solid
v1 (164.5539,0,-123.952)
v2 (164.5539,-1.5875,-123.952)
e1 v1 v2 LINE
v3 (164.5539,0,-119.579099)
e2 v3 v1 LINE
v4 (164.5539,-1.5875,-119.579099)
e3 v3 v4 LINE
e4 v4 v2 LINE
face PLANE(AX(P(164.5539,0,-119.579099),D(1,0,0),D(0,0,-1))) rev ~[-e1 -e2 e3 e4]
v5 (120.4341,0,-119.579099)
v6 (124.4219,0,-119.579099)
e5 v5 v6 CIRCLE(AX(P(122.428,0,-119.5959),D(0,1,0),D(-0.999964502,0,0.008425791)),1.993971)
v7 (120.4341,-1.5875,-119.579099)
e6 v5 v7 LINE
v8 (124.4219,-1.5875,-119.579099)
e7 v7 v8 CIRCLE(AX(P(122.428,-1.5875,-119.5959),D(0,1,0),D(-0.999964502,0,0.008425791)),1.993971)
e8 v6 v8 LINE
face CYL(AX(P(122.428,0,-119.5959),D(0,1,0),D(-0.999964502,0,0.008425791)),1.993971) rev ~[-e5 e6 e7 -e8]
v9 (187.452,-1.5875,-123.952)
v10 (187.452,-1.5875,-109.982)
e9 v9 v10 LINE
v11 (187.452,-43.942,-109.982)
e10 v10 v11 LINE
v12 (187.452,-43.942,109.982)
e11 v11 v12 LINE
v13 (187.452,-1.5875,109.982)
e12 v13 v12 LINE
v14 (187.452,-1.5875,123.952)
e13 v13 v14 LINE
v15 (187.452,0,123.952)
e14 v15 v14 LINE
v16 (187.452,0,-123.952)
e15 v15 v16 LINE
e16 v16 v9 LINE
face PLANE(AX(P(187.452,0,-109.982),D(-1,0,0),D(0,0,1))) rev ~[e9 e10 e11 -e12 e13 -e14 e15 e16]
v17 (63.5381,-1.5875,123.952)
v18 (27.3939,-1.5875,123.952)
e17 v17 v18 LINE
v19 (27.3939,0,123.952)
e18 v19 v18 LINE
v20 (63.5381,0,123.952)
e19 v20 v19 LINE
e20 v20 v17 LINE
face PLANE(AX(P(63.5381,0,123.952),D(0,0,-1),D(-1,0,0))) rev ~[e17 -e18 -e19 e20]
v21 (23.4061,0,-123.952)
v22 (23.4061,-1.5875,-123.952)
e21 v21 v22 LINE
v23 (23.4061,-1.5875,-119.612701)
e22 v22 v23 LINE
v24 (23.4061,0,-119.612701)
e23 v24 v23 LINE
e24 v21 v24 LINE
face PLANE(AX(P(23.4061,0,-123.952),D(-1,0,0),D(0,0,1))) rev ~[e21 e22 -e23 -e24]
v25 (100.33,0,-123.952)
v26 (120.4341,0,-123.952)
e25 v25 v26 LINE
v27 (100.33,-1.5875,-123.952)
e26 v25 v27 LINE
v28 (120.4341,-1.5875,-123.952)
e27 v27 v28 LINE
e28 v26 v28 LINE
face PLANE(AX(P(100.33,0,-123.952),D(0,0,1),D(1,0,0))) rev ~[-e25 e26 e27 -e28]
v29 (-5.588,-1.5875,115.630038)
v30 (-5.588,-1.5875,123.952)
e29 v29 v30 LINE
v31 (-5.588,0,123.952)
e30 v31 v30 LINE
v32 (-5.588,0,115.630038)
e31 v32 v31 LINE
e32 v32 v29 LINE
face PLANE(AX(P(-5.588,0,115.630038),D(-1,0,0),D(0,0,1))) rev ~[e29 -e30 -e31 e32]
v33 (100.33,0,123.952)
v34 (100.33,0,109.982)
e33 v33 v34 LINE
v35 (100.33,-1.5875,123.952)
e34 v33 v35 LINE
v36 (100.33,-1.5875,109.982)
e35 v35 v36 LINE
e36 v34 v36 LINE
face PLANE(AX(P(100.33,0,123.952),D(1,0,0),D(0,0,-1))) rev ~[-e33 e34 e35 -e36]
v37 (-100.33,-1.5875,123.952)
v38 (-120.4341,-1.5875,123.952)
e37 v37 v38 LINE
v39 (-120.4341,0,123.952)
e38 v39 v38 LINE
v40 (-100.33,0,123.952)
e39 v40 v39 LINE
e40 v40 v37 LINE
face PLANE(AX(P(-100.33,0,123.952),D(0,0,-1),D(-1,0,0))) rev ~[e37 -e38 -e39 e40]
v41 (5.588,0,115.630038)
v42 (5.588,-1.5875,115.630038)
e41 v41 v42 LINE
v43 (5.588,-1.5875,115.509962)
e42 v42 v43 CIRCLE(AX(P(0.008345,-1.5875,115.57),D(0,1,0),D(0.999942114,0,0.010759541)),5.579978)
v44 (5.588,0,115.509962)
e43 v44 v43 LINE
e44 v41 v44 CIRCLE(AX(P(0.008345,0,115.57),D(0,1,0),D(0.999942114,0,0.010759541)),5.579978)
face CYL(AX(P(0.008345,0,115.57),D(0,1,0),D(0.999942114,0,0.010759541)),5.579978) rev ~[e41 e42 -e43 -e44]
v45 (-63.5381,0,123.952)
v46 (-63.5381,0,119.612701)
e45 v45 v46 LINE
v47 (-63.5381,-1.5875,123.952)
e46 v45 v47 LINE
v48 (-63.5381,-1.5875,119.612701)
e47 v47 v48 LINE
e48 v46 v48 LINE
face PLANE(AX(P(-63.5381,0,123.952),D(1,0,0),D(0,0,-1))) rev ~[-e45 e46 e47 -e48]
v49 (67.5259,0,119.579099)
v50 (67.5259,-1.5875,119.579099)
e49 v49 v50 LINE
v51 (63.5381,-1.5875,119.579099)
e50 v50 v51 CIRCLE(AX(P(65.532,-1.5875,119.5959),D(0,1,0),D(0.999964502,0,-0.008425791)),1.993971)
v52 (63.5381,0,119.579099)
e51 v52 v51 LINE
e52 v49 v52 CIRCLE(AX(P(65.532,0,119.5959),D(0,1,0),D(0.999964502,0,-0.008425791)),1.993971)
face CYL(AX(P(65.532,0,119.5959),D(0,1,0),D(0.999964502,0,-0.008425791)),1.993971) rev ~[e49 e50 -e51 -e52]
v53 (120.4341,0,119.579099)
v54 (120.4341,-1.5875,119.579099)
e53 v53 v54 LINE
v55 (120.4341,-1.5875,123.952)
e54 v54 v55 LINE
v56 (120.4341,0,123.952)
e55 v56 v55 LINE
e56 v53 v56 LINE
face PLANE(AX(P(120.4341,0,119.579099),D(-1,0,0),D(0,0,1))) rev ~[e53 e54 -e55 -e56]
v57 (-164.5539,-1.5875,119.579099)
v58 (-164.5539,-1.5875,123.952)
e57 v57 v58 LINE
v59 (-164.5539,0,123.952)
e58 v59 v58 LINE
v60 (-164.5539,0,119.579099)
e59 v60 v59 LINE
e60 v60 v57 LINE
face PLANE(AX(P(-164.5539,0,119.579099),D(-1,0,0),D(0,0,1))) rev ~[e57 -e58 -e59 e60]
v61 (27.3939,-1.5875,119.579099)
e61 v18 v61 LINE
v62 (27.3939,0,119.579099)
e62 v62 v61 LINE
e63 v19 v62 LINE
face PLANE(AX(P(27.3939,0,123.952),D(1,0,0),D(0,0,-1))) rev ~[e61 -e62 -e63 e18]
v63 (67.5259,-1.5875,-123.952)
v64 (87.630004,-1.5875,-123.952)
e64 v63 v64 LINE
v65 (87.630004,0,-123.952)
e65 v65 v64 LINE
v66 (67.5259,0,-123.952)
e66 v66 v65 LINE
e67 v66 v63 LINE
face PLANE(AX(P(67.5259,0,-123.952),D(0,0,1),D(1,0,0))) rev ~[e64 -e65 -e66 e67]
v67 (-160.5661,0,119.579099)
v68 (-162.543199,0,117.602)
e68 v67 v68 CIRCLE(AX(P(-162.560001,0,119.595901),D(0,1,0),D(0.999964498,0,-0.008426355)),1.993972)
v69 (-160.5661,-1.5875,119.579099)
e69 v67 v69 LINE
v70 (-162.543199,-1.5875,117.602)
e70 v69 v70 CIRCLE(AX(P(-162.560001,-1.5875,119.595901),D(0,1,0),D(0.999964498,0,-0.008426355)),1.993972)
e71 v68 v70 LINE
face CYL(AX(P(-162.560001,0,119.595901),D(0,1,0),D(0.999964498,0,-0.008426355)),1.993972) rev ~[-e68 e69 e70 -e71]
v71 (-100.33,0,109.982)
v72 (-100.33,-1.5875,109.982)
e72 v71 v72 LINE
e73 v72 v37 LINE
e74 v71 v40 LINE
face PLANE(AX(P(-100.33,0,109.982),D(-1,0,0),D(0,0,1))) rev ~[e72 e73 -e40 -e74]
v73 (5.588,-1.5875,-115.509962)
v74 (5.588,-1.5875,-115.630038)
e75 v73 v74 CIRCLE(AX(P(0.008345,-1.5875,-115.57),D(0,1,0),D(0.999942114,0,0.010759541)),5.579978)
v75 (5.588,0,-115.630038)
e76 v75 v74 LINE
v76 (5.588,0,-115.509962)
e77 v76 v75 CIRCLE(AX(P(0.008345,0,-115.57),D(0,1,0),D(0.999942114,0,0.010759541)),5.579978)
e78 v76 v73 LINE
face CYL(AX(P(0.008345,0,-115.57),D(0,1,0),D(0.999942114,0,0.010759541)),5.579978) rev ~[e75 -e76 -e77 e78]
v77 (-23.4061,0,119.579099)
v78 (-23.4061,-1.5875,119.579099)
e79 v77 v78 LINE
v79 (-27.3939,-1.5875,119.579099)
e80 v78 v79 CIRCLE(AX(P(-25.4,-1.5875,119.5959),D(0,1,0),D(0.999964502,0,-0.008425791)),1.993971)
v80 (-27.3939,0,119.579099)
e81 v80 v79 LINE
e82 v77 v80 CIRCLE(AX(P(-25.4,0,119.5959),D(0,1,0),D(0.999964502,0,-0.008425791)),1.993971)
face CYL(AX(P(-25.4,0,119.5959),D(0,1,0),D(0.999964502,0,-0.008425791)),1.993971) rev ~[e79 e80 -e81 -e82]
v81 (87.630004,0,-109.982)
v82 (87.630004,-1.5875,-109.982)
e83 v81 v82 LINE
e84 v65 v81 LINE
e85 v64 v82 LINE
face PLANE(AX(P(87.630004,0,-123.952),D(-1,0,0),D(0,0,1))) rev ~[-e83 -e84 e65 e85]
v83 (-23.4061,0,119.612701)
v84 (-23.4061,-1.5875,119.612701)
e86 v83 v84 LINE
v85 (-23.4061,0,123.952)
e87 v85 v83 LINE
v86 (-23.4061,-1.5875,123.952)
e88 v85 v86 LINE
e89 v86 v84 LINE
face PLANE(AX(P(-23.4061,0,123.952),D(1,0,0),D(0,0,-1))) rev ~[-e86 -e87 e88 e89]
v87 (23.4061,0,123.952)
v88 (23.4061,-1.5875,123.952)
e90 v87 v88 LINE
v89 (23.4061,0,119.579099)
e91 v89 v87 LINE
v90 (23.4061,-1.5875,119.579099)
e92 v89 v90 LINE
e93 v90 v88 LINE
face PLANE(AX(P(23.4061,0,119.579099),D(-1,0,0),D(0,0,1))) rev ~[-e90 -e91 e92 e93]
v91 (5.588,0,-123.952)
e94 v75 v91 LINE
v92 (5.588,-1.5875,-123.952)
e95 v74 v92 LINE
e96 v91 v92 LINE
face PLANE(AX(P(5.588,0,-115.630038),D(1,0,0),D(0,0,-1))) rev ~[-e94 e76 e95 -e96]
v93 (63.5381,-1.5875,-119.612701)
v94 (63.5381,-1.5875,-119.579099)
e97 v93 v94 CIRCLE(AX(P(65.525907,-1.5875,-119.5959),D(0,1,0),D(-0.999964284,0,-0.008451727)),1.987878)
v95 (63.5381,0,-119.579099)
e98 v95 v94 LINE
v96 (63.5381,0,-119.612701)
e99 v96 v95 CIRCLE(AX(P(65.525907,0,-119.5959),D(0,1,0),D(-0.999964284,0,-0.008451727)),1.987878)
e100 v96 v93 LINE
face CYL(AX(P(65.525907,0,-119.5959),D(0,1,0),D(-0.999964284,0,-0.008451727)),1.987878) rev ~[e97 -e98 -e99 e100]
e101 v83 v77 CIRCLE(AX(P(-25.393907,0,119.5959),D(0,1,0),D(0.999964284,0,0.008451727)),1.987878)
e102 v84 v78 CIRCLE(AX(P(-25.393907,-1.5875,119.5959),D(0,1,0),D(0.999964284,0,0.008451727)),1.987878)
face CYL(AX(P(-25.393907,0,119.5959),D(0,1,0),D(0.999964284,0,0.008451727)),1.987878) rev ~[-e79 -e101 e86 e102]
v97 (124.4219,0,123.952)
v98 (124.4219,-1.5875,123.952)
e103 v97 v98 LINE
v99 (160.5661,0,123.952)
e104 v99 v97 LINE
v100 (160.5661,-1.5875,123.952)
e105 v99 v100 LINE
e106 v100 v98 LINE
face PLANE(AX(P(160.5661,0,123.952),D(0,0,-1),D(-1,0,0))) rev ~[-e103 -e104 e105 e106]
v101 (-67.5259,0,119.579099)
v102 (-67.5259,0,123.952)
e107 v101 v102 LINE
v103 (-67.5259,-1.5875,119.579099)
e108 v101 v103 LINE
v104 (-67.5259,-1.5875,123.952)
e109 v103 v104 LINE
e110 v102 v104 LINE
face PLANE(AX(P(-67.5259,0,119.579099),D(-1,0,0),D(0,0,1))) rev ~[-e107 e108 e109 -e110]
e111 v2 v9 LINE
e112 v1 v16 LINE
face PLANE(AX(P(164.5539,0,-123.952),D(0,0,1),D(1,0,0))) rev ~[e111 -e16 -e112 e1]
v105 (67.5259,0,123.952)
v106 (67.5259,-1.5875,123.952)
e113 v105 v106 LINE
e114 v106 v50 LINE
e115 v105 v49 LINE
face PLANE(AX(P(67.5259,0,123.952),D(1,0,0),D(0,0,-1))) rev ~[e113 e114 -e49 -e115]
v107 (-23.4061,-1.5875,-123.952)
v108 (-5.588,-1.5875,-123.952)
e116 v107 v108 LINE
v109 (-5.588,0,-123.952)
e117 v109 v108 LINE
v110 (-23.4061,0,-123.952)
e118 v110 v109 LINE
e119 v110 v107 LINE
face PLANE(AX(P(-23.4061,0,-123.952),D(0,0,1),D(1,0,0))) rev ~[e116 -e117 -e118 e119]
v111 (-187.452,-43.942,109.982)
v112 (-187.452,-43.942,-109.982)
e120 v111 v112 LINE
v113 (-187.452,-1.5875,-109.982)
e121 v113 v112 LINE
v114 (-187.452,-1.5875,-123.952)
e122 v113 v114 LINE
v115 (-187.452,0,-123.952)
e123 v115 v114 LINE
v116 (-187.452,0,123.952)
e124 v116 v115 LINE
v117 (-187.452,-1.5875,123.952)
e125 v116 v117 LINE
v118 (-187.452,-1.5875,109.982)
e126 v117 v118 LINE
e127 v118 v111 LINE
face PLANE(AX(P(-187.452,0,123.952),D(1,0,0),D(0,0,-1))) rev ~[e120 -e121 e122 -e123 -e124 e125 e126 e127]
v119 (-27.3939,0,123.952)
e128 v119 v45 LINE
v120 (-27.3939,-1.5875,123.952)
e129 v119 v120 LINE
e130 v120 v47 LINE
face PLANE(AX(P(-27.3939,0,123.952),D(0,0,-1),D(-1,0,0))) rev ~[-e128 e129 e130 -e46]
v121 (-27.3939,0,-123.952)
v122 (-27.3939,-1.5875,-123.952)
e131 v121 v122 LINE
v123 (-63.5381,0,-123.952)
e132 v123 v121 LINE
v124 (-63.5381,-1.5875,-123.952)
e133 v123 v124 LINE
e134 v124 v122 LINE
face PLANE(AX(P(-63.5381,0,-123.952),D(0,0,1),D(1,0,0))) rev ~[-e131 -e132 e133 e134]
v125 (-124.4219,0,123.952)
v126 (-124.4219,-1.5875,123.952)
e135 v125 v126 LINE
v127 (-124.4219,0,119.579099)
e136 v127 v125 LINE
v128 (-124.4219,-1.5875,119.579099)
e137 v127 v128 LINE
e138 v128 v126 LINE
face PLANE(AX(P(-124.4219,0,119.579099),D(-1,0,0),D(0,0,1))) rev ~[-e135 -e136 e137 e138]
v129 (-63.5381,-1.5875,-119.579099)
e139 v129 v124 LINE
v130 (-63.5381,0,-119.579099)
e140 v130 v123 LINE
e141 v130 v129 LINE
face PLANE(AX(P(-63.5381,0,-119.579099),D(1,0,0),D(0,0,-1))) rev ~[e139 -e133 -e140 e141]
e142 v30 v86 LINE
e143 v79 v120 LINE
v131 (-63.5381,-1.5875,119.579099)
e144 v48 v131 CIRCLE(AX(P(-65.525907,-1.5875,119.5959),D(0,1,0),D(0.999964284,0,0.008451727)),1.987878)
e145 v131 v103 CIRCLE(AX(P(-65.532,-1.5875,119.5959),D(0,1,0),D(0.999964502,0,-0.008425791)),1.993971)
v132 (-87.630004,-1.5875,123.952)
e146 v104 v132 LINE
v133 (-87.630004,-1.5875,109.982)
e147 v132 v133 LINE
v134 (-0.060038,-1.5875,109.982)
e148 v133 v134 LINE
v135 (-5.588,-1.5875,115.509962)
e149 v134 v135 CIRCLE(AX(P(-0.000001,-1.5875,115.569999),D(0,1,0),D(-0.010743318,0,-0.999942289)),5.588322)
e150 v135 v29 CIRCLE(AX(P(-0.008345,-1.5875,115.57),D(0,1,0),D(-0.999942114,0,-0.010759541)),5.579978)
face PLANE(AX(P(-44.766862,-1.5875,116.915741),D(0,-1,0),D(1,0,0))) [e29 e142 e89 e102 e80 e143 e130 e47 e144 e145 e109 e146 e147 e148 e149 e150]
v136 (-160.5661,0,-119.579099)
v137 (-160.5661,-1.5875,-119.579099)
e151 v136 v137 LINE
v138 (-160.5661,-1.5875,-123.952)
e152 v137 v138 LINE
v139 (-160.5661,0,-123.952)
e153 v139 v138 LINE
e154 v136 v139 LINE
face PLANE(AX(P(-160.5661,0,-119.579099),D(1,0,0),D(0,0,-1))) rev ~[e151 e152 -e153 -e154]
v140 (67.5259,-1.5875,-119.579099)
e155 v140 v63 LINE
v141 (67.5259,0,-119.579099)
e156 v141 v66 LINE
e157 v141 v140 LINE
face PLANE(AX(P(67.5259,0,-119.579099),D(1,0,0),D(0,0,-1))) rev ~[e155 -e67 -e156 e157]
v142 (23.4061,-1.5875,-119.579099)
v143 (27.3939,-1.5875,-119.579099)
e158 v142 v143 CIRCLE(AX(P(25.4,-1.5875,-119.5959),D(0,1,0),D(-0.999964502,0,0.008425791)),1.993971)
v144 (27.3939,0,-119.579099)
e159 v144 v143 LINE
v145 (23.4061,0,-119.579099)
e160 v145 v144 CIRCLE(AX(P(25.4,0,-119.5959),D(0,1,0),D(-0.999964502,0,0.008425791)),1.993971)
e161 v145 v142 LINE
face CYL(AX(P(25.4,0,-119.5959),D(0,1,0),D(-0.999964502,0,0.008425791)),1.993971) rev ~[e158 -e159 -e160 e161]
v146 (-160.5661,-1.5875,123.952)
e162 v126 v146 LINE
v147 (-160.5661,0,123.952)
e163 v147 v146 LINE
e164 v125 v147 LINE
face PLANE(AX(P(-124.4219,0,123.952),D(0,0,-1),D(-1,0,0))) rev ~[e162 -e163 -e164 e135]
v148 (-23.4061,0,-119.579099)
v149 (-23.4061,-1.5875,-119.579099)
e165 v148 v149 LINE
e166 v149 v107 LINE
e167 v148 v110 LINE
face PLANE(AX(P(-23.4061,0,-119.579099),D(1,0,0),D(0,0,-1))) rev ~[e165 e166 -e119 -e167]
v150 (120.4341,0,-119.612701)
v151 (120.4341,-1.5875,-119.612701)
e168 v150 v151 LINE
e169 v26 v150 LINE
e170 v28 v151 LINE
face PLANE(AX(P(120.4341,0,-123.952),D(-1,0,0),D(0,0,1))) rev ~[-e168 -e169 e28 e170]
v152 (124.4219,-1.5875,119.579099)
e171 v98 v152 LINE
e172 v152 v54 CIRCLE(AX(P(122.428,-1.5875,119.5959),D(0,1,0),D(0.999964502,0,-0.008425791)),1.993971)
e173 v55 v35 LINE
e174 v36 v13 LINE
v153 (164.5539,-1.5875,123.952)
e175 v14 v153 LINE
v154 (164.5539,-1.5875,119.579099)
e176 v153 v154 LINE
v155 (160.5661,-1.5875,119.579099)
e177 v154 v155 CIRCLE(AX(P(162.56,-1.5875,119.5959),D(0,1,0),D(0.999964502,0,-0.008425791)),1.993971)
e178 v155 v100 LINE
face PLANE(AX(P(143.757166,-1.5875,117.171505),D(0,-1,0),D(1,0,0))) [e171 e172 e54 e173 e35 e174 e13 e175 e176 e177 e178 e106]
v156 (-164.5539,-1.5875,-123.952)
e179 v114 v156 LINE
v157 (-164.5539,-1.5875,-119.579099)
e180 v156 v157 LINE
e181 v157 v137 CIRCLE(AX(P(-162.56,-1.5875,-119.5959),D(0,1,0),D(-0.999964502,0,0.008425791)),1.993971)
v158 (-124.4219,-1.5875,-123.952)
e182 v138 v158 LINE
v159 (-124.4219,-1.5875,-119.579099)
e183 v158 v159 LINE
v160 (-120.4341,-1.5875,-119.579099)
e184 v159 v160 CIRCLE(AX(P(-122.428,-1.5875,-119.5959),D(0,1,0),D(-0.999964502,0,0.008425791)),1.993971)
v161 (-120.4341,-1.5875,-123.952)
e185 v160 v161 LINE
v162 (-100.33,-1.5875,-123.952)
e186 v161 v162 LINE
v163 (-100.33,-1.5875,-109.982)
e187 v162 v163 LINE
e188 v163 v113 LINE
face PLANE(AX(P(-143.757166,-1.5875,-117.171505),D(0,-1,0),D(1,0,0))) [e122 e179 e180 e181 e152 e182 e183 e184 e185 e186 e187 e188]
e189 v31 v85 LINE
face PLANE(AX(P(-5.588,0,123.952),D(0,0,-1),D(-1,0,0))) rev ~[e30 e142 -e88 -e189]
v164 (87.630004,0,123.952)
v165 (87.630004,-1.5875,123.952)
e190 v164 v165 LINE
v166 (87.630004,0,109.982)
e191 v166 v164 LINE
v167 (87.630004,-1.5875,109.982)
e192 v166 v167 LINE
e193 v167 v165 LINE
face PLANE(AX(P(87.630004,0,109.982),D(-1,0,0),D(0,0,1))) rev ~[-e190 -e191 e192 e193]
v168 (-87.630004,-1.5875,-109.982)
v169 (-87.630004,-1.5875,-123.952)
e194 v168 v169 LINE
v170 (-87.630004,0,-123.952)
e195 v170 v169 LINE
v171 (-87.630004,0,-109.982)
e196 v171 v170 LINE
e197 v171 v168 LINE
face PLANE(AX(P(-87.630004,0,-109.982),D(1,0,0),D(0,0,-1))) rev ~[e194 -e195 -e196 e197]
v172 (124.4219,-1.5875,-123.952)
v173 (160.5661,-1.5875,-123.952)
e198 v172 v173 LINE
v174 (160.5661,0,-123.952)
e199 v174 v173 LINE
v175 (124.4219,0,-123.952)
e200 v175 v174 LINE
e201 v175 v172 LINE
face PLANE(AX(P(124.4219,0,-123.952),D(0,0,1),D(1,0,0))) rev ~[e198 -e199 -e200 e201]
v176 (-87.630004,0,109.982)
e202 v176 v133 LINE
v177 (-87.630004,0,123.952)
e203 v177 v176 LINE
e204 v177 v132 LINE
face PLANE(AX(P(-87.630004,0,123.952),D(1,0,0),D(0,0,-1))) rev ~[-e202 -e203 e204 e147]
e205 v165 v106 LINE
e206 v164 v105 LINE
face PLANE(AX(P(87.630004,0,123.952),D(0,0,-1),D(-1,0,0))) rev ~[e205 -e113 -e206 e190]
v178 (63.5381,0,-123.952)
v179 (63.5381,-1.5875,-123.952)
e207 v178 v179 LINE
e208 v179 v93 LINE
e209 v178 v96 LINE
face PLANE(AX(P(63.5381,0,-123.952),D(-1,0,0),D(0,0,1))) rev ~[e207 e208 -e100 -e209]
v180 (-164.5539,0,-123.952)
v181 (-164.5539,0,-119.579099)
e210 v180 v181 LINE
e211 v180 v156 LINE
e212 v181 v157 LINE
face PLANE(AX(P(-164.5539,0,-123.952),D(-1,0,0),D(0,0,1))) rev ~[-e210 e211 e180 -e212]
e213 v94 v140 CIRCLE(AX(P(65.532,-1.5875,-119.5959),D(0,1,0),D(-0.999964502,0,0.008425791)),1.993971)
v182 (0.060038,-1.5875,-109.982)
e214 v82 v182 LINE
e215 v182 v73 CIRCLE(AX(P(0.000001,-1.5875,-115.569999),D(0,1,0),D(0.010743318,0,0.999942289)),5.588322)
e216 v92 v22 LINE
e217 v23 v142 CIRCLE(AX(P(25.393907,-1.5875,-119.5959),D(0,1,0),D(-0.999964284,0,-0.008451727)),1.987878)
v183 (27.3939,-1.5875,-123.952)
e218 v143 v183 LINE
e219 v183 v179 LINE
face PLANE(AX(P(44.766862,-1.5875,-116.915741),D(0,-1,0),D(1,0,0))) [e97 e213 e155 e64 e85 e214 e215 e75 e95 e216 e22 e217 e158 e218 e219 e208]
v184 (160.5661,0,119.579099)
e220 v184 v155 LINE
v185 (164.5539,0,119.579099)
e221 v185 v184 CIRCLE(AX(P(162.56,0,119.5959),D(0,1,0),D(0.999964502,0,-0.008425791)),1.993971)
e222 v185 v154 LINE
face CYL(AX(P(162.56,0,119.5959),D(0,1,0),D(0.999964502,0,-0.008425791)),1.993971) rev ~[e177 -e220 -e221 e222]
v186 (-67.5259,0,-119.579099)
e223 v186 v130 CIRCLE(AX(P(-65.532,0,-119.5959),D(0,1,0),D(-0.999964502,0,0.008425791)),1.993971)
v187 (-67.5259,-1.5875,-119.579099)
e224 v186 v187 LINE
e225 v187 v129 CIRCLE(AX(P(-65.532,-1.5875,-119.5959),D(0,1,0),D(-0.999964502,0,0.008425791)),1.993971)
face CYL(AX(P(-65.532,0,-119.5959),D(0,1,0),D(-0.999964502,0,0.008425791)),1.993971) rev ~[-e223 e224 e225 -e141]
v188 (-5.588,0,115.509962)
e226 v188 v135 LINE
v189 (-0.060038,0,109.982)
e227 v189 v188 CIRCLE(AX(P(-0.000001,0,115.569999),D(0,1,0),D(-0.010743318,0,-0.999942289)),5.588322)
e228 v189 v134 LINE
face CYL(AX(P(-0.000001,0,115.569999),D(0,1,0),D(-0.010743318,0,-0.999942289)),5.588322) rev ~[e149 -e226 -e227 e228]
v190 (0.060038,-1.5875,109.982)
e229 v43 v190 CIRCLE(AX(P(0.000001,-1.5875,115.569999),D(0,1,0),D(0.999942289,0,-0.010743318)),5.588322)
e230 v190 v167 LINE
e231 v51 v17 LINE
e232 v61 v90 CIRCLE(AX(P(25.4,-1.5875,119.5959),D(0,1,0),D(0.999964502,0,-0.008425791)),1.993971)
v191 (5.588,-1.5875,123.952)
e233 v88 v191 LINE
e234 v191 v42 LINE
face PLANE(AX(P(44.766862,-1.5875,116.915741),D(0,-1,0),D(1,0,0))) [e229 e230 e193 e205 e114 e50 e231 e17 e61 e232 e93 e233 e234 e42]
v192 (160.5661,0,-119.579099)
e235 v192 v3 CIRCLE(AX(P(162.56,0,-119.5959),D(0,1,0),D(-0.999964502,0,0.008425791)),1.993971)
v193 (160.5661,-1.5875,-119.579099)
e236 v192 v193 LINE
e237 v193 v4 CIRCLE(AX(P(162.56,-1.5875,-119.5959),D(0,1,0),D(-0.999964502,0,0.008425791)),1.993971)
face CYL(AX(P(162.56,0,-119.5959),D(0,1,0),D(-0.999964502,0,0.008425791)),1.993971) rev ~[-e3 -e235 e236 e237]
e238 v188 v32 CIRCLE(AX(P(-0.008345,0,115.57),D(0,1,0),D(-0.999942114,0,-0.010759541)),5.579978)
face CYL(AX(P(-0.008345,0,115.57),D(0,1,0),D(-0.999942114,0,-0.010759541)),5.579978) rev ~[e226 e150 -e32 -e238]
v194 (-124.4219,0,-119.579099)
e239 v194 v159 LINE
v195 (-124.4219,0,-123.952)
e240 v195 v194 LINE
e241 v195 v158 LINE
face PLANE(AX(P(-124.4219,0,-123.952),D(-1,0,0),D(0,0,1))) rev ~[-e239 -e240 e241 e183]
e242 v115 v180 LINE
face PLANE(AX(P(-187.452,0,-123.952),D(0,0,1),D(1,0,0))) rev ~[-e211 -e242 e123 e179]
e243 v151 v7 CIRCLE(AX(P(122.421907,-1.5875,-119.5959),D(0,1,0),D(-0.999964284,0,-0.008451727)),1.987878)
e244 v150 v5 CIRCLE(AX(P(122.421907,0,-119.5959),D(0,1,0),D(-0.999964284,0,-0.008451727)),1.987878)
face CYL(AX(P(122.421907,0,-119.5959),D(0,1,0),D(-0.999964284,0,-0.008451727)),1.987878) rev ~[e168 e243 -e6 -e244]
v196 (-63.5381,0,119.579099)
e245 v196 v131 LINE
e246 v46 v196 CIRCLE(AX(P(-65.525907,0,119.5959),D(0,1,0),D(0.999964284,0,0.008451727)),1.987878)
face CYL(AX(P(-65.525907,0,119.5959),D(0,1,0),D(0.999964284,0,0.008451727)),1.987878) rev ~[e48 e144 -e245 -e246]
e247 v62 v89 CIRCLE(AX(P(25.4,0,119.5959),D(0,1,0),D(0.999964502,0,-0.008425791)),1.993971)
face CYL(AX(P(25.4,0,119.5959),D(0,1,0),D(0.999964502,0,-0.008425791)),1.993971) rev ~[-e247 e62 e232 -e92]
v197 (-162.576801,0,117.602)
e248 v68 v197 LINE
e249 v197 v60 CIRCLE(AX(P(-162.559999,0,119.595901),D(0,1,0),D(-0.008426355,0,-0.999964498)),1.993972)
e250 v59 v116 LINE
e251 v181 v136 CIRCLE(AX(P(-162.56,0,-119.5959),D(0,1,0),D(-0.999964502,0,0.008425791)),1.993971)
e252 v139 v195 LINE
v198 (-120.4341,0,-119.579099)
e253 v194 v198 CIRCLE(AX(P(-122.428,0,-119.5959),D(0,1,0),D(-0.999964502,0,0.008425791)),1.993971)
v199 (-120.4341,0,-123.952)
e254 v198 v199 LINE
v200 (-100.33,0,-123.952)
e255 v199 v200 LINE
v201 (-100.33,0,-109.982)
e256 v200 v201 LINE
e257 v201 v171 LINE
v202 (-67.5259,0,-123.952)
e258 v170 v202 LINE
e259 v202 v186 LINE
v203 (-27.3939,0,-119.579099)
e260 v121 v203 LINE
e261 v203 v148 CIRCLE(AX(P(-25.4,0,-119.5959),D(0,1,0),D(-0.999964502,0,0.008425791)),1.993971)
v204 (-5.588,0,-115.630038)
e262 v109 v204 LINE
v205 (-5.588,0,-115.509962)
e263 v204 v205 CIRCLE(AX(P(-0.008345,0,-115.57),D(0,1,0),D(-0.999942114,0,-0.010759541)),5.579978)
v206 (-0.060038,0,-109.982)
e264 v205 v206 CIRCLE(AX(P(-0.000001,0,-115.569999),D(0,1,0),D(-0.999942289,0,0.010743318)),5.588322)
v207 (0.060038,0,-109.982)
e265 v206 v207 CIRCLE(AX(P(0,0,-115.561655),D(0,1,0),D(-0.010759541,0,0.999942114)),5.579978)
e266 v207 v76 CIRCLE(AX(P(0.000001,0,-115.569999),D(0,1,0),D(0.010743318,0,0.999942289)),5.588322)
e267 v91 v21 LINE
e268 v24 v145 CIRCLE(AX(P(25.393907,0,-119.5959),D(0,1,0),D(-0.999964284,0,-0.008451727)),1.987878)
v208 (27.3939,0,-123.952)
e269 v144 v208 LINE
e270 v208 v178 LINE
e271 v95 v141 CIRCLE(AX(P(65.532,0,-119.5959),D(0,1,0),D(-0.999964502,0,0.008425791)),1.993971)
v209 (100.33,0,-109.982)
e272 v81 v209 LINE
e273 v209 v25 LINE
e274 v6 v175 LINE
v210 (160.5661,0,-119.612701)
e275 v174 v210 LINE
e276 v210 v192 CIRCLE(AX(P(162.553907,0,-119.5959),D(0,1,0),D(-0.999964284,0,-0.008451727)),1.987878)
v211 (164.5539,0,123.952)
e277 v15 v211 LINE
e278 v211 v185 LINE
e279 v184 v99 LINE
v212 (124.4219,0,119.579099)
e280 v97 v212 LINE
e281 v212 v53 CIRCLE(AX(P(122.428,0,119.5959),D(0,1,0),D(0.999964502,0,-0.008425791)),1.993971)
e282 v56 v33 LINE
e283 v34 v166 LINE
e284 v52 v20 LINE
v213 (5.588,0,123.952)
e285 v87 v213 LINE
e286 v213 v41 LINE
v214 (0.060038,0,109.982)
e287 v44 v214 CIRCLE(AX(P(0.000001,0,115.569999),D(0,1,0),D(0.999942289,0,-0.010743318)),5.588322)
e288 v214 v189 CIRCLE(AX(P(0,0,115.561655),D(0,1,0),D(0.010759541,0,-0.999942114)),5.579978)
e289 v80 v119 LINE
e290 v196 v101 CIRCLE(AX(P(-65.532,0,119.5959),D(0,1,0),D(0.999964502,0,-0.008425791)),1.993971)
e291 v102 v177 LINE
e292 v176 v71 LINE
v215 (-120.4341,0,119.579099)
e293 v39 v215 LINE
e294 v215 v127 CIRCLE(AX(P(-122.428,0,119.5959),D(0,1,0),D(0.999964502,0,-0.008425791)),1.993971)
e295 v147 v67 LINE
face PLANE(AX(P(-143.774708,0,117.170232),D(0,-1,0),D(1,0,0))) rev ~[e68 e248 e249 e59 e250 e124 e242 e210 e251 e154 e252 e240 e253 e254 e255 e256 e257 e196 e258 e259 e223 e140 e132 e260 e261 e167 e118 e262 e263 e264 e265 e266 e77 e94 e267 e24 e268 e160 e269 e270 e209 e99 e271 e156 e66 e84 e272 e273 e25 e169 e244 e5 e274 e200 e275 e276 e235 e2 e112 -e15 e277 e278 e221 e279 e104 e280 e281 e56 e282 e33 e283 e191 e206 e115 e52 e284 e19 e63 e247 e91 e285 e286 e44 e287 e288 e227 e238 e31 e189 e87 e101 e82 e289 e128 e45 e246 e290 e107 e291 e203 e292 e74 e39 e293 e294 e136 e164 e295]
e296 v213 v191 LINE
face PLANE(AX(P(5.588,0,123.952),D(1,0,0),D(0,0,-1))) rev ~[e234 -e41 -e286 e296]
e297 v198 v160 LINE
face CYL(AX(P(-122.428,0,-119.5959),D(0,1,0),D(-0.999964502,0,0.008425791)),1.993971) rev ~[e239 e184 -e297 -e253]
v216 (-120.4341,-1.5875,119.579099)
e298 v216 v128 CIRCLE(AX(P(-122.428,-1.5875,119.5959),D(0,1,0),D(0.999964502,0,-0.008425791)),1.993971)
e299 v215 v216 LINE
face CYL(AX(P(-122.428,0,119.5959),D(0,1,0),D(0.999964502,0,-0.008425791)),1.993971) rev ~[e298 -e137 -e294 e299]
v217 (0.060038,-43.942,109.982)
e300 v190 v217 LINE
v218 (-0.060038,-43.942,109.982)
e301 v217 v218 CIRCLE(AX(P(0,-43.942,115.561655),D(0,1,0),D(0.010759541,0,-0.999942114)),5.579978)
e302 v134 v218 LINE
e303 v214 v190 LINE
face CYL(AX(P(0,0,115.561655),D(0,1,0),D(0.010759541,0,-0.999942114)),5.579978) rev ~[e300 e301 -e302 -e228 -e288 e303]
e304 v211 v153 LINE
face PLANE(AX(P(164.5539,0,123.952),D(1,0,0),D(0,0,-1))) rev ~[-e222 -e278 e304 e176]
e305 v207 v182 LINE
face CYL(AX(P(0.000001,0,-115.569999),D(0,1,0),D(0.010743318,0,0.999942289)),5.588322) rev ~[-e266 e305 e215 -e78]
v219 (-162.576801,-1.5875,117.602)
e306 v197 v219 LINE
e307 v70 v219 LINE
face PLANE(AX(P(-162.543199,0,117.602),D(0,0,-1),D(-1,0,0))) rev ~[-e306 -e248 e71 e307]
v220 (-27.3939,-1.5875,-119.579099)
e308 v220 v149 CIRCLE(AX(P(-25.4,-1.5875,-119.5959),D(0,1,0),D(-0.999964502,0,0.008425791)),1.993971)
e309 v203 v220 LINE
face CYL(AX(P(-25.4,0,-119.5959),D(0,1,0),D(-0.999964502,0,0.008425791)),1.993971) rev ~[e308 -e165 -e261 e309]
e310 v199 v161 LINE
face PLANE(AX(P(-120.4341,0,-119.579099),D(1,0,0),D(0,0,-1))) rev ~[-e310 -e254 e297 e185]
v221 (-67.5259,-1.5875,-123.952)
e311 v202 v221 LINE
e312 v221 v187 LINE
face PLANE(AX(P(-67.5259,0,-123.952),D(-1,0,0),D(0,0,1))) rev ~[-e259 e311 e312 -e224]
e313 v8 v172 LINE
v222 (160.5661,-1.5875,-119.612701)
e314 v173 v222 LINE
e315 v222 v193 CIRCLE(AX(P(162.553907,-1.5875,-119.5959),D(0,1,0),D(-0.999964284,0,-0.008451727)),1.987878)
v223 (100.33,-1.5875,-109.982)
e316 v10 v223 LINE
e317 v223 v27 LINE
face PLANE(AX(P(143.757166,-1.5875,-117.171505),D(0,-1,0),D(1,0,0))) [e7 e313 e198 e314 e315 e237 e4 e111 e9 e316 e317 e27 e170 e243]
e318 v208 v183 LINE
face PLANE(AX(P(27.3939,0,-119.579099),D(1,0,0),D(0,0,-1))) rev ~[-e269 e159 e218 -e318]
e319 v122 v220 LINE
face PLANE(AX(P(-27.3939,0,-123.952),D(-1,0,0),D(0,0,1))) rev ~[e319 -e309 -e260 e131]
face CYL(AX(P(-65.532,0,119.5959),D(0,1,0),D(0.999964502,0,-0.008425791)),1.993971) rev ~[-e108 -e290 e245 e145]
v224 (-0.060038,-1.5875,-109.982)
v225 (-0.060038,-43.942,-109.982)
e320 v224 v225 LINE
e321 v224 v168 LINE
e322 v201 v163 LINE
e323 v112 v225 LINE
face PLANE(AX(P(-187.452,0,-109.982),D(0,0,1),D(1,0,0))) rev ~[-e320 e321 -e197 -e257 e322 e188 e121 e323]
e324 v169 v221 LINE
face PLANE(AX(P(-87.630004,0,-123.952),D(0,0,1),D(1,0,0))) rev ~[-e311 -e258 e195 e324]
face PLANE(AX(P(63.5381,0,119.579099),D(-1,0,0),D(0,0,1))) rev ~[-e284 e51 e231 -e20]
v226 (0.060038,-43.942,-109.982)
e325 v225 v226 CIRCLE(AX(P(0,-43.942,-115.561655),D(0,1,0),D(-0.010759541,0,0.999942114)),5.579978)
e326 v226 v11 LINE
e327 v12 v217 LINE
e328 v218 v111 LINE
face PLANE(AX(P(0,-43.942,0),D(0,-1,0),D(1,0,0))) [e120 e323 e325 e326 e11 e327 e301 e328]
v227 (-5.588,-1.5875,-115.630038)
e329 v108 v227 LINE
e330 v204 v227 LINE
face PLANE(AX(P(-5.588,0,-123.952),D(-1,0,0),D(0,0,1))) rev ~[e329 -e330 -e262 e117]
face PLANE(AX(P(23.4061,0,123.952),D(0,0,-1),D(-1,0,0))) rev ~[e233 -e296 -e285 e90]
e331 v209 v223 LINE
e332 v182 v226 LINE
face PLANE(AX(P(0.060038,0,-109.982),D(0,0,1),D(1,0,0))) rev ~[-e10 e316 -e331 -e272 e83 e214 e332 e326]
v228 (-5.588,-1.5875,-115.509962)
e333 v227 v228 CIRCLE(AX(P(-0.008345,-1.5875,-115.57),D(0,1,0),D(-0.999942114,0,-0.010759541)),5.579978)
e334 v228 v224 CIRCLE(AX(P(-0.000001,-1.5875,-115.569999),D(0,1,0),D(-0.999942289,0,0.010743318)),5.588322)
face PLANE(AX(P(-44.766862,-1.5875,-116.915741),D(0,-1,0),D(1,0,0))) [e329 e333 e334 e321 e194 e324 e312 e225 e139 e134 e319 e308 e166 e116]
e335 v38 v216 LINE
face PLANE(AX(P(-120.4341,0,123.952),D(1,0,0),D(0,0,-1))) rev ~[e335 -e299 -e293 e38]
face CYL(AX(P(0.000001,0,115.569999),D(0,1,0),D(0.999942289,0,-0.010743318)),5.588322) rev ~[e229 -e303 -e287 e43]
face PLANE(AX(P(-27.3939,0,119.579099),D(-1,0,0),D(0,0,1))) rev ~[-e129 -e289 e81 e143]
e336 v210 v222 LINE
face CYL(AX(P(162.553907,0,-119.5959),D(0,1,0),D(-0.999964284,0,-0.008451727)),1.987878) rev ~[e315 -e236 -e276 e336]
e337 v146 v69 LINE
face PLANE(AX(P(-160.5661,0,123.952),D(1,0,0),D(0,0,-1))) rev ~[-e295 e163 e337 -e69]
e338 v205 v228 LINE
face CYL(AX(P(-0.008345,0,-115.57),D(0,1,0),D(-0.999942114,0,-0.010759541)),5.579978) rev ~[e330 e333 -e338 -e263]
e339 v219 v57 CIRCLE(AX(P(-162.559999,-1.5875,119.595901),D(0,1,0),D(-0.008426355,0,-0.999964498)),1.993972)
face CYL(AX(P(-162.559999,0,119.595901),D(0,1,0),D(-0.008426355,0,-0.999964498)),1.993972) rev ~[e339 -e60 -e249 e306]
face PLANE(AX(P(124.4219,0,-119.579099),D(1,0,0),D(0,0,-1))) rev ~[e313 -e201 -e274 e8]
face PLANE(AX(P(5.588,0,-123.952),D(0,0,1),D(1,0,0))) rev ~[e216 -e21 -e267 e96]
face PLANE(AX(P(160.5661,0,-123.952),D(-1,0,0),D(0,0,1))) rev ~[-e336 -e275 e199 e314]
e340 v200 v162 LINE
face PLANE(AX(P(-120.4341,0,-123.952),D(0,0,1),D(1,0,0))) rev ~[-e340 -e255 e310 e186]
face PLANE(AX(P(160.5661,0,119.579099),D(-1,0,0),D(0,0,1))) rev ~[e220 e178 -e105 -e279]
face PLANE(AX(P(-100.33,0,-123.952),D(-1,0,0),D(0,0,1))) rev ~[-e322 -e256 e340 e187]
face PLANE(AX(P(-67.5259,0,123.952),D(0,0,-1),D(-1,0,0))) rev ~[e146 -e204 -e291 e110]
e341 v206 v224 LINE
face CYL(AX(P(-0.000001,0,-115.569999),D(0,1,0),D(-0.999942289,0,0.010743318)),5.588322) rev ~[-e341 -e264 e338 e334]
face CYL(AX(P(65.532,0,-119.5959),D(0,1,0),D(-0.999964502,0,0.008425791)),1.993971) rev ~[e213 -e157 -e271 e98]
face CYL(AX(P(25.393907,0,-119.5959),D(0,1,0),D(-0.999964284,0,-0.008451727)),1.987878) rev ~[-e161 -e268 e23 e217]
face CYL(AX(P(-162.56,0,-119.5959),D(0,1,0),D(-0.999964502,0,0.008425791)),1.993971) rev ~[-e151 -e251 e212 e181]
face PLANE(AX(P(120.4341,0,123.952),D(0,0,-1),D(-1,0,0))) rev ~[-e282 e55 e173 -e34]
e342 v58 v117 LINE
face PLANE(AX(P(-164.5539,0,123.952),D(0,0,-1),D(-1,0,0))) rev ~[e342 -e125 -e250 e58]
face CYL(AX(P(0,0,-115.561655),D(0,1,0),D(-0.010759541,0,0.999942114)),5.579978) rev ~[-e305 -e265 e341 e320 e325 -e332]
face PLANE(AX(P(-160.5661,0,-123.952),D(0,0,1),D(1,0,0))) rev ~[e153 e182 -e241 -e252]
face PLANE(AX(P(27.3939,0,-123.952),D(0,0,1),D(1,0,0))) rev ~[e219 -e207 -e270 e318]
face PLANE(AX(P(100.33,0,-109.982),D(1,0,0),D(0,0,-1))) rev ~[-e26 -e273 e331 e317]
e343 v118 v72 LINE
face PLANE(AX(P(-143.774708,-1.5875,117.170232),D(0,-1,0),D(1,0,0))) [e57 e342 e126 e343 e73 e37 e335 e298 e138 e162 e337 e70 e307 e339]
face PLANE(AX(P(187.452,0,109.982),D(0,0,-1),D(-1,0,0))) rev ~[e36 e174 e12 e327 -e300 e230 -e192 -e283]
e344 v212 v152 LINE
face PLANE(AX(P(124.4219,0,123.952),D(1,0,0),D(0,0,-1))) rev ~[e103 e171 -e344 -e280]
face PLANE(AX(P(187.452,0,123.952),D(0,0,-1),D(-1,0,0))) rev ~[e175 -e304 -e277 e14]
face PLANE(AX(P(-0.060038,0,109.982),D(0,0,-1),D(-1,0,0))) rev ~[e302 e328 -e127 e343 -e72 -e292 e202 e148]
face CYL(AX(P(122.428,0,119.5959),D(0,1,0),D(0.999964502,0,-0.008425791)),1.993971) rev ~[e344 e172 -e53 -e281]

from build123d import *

# Parameters (mm, degrees)
F1_DEPTH = 43.942
F2_DEPTH = 1.5875


with BuildPart() as f1:
    # F0 (on Front) → F1 (new body)
    with BuildSketch(Plane.XZ):
        with BuildLine():
            Line((-187.452, 109.982), (-187.452, -109.982))
            Line((-187.452, -109.982), (-100.33, -109.982))
            Line((-100.33, -109.982), (-87.630004, -109.982))
            Line((-87.630004, -109.982), (-0.060038, -109.982))
            ThreePointArc((-0.060038, -109.982), (0, -109.981677), (0.060038, -109.982))
            Line((0.060038, -109.982), (87.630004, -109.982))
            Line((87.630004, -109.982), (100.33, -109.982))
            Line((100.33, -109.982), (187.452, -109.982))
            Line((187.452, -109.982), (187.452, 109.982))
            Line((187.452, 109.982), (100.33, 109.982))
            Line((100.33, 109.982), (87.630004, 109.982))
            Line((87.630004, 109.982), (0.060038, 109.982))
            ThreePointArc((0.060038, 109.982), (0, 109.981677), (-0.060038, 109.982))
            Line((-0.060038, 109.982), (-87.630004, 109.982))
            Line((-87.630004, 109.982), (-100.33, 109.982))
            Line((-100.33, 109.982), (-187.452, 109.982))
        make_face()
    extrude(amount=F1_DEPTH)

    # F0 (on Front) → F2 (join)
    with BuildSketch(Plane.XZ):
        with BuildLine():
            Line((-187.452, 123.952), (-187.452, 109.982))
            Line((-187.452, 109.982), (-100.33, 109.982))
            Line((-100.33, 109.982), (-100.33, 123.952))
            Line((-100.33, 123.952), (-120.4341, 123.952))
            Line((-120.4341, 123.952), (-120.4341, 119.612701))
            Line((-120.4341, 119.612701), (-120.4341, 119.579099))
            ThreePointArc((-120.4341, 119.579099), (-122.428, 117.601929), (-124.4219, 119.579099))
            Line((-124.4219, 119.579099), (-124.4219, 123.952))
            Line((-124.4219, 123.952), (-160.5661, 123.952))
            Line((-160.5661, 123.952), (-160.5661, 119.612701))
            Line((-160.5661, 119.612701), (-160.5661, 119.579099))
            ThreePointArc((-160.5661, 119.579099), (-161.15005, 118.18595), (-162.543199, 117.602))
            Line((-162.543199, 117.602), (-162.576801, 117.602))
            ThreePointArc((-162.576801, 117.602), (-163.96995, 118.18595), (-164.5539, 119.579099))
            Line((-164.5539, 119.579099), (-164.5539, 123.952))
            Line((-164.5539, 123.952), (-187.452, 123.952))
        make_face()
        with BuildLine():
            Line((-187.452, -109.982), (-187.452, -123.952))
            Line((-187.452, -123.952), (-164.5539, -123.952))
            Line((-164.5539, -123.952), (-164.5539, -119.579099))
            ThreePointArc((-164.5539, -119.579099), (-162.56, -117.601929), (-160.5661, -119.579099))
            Line((-160.5661, -119.579099), (-160.5661, -119.612701))
            Line((-160.5661, -119.612701), (-160.5661, -123.952))
            Line((-160.5661, -123.952), (-124.4219, -123.952))
            Line((-124.4219, -123.952), (-124.4219, -119.579099))
            ThreePointArc((-124.4219, -119.579099), (-122.428, -117.601929), (-120.4341, -119.579099))
            Line((-120.4341, -119.579099), (-120.4341, -119.612701))
            Line((-120.4341, -119.612701), (-120.4341, -123.952))
            Line((-120.4341, -123.952), (-100.33, -123.952))
            Line((-100.33, -123.952), (-100.33, -109.982))
            Line((-100.33, -109.982), (-187.452, -109.982))
        make_face()
        with BuildLine():
            ThreePointArc((5.588, 115.509962), (3.951541, 111.618459), (0.060038, 109.982))
            Line((0.060038, 109.982), (87.630004, 109.982))
            Line((87.630004, 109.982), (87.630004, 123.952))
            Line((87.630004, 123.952), (67.5259, 123.952))
            Line((67.5259, 123.952), (67.5259, 119.579099))
            ThreePointArc((67.5259, 119.579099), (65.532, 117.601929), (63.5381, 119.579099))
            Line((63.5381, 119.579099), (63.5381, 119.612701))
            Line((63.5381, 119.612701), (63.5381, 123.952))
            Line((63.5381, 123.952), (27.3939, 123.952))
            Line((27.3939, 123.952), (27.3939, 119.579099))
            ThreePointArc((27.3939, 119.579099), (25.4, 117.601929), (23.4061, 119.579099))
            Line((23.4061, 119.579099), (23.4061, 119.612701))
            Line((23.4061, 119.612701), (23.4061, 123.952))
            Line((23.4061, 123.952), (5.588, 123.952))
            Line((5.588, 123.952), (5.588, 115.630038))
            ThreePointArc((5.588, 115.630038), (5.588323, 115.57), (5.588, 115.509962))
        make_face()
        with BuildLine():
            Line((187.452, -109.982), (100.33, -109.982))
            Line((100.33, -109.982), (100.33, -123.952))
            Line((100.33, -123.952), (120.4341, -123.952))
            Line((120.4341, -123.952), (120.4341, -119.612701))
            ThreePointArc((120.4341, -119.612701), (120.434029, -119.5959), (120.4341, -119.579099))
            ThreePointArc((120.4341, -119.579099), (122.428, -117.601929), (124.4219, -119.579099))
            Line((124.4219, -119.579099), (124.4219, -123.952))
            Line((124.4219, -123.952), (160.5661, -123.952))
            Line((160.5661, -123.952), (160.5661, -119.612701))
            ThreePointArc((160.5661, -119.612701), (160.566029, -119.5959), (160.5661, -119.579099))
            ThreePointArc((160.5661, -119.579099), (162.56, -117.601929), (164.5539, -119.579099))
            Line((164.5539, -119.579099), (164.5539, -123.952))
            Line((164.5539, -123.952), (187.452, -123.952))
            Line((187.452, -123.952), (187.452, -109.982))
        make_face()
        with BuildLine():
            Line((-87.630004, 123.952), (-87.630004, 109.982))
            Line((-87.630004, 109.982), (-0.060038, 109.982))
            ThreePointArc((-0.060038, 109.982), (-3.951541, 111.618459), (-5.588, 115.509962))
            ThreePointArc((-5.588, 115.509962), (-5.588323, 115.57), (-5.588, 115.630038))
            Line((-5.588, 115.630038), (-5.588, 123.952))
            Line((-5.588, 123.952), (-23.4061, 123.952))
            Line((-23.4061, 123.952), (-23.4061, 119.612701))
            ThreePointArc((-23.4061, 119.612701), (-23.406029, 119.5959), (-23.4061, 119.579099))
            ThreePointArc((-23.4061, 119.579099), (-25.4, 117.601929), (-27.3939, 119.579099))
            Line((-27.3939, 119.579099), (-27.3939, 123.952))
            Line((-27.3939, 123.952), (-63.5381, 123.952))
            Line((-63.5381, 123.952), (-63.5381, 119.612701))
            ThreePointArc((-63.5381, 119.612701), (-63.538029, 119.5959), (-63.5381, 119.579099))
            ThreePointArc((-63.5381, 119.579099), (-65.532, 117.601929), (-67.5259, 119.579099))
            Line((-67.5259, 119.579099), (-67.5259, 123.952))
            Line((-67.5259, 123.952), (-87.630004, 123.952))
        make_face()
        with BuildLine():
            Line((-0.060038, -109.982), (-87.630004, -109.982))
            Line((-87.630004, -109.982), (-87.630004, -123.952))
            Line((-87.630004, -123.952), (-67.5259, -123.952))
            Line((-67.5259, -123.952), (-67.5259, -119.579099))
            ThreePointArc((-67.5259, -119.579099), (-65.532, -117.601929), (-63.5381, -119.579099))
            Line((-63.5381, -119.579099), (-63.5381, -119.612701))
            Line((-63.5381, -119.612701), (-63.5381, -123.952))
            Line((-63.5381, -123.952), (-27.3939, -123.952))
            Line((-27.3939, -123.952), (-27.3939, -119.579099))
            ThreePointArc((-27.3939, -119.579099), (-25.4, -117.601929), (-23.4061, -119.579099))
            Line((-23.4061, -119.579099), (-23.4061, -119.612701))
            Line((-23.4061, -119.612701), (-23.4061, -123.952))
            Line((-23.4061, -123.952), (-5.588, -123.952))
            Line((-5.588, -123.952), (-5.588, -115.630038))
            ThreePointArc((-5.588, -115.630038), (-5.588323, -115.57), (-5.588, -115.509962))
            ThreePointArc((-5.588, -115.509962), (-3.951541, -111.618459), (-0.060038, -109.982))
        make_face()
        with BuildLine():
            Line((87.630004, -109.982), (0.060038, -109.982))
            ThreePointArc((0.060038, -109.982), (3.951541, -111.618459), (5.588, -115.509962))
            ThreePointArc((5.588, -115.509962), (5.588323, -115.57), (5.588, -115.630038))
            Line((5.588, -115.630038), (5.588, -123.952))
            Line((5.588, -123.952), (23.4061, -123.952))
            Line((23.4061, -123.952), (23.4061, -119.612701))
            ThreePointArc((23.4061, -119.612701), (23.406029, -119.5959), (23.4061, -119.579099))
            ThreePointArc((23.4061, -119.579099), (25.4, -117.601929), (27.3939, -119.579099))
            Line((27.3939, -119.579099), (27.3939, -123.952))
            Line((27.3939, -123.952), (63.5381, -123.952))
            Line((63.5381, -123.952), (63.5381, -119.612701))
            ThreePointArc((63.5381, -119.612701), (63.538029, -119.5959), (63.5381, -119.579099))
            ThreePointArc((63.5381, -119.579099), (65.532, -117.601929), (67.5259, -119.579099))
            Line((67.5259, -119.579099), (67.5259, -123.952))
            Line((67.5259, -123.952), (87.630004, -123.952))
            Line((87.630004, -123.952), (87.630004, -109.982))
        make_face()
        with BuildLine():
            Line((100.33, 123.952), (100.33, 109.982))
            Line((100.33, 109.982), (187.452, 109.982))
            Line((187.452, 109.982), (187.452, 123.952))
            Line((187.452, 123.952), (164.5539, 123.952))
            Line((164.5539, 123.952), (164.5539, 119.579099))
            ThreePointArc((164.5539, 119.579099), (162.56, 117.601929), (160.5661, 119.579099))
            Line((160.5661, 119.579099), (160.5661, 119.612701))
            Line((160.5661, 119.612701), (160.5661, 123.952))
            Line((160.5661, 123.952), (124.4219, 123.952))
            Line((124.4219, 123.952), (124.4219, 119.579099))
            ThreePointArc((124.4219, 119.579099), (122.428, 117.601929), (120.4341, 119.579099))
            Line((120.4341, 119.579099), (120.4341, 119.612701))
            Line((120.4341, 119.612701), (120.4341, 123.952))
            Line((120.4341, 123.952), (100.33, 123.952))
        make_face()
    extrude(amount=F2_DEPTH)


solid = f1.part
